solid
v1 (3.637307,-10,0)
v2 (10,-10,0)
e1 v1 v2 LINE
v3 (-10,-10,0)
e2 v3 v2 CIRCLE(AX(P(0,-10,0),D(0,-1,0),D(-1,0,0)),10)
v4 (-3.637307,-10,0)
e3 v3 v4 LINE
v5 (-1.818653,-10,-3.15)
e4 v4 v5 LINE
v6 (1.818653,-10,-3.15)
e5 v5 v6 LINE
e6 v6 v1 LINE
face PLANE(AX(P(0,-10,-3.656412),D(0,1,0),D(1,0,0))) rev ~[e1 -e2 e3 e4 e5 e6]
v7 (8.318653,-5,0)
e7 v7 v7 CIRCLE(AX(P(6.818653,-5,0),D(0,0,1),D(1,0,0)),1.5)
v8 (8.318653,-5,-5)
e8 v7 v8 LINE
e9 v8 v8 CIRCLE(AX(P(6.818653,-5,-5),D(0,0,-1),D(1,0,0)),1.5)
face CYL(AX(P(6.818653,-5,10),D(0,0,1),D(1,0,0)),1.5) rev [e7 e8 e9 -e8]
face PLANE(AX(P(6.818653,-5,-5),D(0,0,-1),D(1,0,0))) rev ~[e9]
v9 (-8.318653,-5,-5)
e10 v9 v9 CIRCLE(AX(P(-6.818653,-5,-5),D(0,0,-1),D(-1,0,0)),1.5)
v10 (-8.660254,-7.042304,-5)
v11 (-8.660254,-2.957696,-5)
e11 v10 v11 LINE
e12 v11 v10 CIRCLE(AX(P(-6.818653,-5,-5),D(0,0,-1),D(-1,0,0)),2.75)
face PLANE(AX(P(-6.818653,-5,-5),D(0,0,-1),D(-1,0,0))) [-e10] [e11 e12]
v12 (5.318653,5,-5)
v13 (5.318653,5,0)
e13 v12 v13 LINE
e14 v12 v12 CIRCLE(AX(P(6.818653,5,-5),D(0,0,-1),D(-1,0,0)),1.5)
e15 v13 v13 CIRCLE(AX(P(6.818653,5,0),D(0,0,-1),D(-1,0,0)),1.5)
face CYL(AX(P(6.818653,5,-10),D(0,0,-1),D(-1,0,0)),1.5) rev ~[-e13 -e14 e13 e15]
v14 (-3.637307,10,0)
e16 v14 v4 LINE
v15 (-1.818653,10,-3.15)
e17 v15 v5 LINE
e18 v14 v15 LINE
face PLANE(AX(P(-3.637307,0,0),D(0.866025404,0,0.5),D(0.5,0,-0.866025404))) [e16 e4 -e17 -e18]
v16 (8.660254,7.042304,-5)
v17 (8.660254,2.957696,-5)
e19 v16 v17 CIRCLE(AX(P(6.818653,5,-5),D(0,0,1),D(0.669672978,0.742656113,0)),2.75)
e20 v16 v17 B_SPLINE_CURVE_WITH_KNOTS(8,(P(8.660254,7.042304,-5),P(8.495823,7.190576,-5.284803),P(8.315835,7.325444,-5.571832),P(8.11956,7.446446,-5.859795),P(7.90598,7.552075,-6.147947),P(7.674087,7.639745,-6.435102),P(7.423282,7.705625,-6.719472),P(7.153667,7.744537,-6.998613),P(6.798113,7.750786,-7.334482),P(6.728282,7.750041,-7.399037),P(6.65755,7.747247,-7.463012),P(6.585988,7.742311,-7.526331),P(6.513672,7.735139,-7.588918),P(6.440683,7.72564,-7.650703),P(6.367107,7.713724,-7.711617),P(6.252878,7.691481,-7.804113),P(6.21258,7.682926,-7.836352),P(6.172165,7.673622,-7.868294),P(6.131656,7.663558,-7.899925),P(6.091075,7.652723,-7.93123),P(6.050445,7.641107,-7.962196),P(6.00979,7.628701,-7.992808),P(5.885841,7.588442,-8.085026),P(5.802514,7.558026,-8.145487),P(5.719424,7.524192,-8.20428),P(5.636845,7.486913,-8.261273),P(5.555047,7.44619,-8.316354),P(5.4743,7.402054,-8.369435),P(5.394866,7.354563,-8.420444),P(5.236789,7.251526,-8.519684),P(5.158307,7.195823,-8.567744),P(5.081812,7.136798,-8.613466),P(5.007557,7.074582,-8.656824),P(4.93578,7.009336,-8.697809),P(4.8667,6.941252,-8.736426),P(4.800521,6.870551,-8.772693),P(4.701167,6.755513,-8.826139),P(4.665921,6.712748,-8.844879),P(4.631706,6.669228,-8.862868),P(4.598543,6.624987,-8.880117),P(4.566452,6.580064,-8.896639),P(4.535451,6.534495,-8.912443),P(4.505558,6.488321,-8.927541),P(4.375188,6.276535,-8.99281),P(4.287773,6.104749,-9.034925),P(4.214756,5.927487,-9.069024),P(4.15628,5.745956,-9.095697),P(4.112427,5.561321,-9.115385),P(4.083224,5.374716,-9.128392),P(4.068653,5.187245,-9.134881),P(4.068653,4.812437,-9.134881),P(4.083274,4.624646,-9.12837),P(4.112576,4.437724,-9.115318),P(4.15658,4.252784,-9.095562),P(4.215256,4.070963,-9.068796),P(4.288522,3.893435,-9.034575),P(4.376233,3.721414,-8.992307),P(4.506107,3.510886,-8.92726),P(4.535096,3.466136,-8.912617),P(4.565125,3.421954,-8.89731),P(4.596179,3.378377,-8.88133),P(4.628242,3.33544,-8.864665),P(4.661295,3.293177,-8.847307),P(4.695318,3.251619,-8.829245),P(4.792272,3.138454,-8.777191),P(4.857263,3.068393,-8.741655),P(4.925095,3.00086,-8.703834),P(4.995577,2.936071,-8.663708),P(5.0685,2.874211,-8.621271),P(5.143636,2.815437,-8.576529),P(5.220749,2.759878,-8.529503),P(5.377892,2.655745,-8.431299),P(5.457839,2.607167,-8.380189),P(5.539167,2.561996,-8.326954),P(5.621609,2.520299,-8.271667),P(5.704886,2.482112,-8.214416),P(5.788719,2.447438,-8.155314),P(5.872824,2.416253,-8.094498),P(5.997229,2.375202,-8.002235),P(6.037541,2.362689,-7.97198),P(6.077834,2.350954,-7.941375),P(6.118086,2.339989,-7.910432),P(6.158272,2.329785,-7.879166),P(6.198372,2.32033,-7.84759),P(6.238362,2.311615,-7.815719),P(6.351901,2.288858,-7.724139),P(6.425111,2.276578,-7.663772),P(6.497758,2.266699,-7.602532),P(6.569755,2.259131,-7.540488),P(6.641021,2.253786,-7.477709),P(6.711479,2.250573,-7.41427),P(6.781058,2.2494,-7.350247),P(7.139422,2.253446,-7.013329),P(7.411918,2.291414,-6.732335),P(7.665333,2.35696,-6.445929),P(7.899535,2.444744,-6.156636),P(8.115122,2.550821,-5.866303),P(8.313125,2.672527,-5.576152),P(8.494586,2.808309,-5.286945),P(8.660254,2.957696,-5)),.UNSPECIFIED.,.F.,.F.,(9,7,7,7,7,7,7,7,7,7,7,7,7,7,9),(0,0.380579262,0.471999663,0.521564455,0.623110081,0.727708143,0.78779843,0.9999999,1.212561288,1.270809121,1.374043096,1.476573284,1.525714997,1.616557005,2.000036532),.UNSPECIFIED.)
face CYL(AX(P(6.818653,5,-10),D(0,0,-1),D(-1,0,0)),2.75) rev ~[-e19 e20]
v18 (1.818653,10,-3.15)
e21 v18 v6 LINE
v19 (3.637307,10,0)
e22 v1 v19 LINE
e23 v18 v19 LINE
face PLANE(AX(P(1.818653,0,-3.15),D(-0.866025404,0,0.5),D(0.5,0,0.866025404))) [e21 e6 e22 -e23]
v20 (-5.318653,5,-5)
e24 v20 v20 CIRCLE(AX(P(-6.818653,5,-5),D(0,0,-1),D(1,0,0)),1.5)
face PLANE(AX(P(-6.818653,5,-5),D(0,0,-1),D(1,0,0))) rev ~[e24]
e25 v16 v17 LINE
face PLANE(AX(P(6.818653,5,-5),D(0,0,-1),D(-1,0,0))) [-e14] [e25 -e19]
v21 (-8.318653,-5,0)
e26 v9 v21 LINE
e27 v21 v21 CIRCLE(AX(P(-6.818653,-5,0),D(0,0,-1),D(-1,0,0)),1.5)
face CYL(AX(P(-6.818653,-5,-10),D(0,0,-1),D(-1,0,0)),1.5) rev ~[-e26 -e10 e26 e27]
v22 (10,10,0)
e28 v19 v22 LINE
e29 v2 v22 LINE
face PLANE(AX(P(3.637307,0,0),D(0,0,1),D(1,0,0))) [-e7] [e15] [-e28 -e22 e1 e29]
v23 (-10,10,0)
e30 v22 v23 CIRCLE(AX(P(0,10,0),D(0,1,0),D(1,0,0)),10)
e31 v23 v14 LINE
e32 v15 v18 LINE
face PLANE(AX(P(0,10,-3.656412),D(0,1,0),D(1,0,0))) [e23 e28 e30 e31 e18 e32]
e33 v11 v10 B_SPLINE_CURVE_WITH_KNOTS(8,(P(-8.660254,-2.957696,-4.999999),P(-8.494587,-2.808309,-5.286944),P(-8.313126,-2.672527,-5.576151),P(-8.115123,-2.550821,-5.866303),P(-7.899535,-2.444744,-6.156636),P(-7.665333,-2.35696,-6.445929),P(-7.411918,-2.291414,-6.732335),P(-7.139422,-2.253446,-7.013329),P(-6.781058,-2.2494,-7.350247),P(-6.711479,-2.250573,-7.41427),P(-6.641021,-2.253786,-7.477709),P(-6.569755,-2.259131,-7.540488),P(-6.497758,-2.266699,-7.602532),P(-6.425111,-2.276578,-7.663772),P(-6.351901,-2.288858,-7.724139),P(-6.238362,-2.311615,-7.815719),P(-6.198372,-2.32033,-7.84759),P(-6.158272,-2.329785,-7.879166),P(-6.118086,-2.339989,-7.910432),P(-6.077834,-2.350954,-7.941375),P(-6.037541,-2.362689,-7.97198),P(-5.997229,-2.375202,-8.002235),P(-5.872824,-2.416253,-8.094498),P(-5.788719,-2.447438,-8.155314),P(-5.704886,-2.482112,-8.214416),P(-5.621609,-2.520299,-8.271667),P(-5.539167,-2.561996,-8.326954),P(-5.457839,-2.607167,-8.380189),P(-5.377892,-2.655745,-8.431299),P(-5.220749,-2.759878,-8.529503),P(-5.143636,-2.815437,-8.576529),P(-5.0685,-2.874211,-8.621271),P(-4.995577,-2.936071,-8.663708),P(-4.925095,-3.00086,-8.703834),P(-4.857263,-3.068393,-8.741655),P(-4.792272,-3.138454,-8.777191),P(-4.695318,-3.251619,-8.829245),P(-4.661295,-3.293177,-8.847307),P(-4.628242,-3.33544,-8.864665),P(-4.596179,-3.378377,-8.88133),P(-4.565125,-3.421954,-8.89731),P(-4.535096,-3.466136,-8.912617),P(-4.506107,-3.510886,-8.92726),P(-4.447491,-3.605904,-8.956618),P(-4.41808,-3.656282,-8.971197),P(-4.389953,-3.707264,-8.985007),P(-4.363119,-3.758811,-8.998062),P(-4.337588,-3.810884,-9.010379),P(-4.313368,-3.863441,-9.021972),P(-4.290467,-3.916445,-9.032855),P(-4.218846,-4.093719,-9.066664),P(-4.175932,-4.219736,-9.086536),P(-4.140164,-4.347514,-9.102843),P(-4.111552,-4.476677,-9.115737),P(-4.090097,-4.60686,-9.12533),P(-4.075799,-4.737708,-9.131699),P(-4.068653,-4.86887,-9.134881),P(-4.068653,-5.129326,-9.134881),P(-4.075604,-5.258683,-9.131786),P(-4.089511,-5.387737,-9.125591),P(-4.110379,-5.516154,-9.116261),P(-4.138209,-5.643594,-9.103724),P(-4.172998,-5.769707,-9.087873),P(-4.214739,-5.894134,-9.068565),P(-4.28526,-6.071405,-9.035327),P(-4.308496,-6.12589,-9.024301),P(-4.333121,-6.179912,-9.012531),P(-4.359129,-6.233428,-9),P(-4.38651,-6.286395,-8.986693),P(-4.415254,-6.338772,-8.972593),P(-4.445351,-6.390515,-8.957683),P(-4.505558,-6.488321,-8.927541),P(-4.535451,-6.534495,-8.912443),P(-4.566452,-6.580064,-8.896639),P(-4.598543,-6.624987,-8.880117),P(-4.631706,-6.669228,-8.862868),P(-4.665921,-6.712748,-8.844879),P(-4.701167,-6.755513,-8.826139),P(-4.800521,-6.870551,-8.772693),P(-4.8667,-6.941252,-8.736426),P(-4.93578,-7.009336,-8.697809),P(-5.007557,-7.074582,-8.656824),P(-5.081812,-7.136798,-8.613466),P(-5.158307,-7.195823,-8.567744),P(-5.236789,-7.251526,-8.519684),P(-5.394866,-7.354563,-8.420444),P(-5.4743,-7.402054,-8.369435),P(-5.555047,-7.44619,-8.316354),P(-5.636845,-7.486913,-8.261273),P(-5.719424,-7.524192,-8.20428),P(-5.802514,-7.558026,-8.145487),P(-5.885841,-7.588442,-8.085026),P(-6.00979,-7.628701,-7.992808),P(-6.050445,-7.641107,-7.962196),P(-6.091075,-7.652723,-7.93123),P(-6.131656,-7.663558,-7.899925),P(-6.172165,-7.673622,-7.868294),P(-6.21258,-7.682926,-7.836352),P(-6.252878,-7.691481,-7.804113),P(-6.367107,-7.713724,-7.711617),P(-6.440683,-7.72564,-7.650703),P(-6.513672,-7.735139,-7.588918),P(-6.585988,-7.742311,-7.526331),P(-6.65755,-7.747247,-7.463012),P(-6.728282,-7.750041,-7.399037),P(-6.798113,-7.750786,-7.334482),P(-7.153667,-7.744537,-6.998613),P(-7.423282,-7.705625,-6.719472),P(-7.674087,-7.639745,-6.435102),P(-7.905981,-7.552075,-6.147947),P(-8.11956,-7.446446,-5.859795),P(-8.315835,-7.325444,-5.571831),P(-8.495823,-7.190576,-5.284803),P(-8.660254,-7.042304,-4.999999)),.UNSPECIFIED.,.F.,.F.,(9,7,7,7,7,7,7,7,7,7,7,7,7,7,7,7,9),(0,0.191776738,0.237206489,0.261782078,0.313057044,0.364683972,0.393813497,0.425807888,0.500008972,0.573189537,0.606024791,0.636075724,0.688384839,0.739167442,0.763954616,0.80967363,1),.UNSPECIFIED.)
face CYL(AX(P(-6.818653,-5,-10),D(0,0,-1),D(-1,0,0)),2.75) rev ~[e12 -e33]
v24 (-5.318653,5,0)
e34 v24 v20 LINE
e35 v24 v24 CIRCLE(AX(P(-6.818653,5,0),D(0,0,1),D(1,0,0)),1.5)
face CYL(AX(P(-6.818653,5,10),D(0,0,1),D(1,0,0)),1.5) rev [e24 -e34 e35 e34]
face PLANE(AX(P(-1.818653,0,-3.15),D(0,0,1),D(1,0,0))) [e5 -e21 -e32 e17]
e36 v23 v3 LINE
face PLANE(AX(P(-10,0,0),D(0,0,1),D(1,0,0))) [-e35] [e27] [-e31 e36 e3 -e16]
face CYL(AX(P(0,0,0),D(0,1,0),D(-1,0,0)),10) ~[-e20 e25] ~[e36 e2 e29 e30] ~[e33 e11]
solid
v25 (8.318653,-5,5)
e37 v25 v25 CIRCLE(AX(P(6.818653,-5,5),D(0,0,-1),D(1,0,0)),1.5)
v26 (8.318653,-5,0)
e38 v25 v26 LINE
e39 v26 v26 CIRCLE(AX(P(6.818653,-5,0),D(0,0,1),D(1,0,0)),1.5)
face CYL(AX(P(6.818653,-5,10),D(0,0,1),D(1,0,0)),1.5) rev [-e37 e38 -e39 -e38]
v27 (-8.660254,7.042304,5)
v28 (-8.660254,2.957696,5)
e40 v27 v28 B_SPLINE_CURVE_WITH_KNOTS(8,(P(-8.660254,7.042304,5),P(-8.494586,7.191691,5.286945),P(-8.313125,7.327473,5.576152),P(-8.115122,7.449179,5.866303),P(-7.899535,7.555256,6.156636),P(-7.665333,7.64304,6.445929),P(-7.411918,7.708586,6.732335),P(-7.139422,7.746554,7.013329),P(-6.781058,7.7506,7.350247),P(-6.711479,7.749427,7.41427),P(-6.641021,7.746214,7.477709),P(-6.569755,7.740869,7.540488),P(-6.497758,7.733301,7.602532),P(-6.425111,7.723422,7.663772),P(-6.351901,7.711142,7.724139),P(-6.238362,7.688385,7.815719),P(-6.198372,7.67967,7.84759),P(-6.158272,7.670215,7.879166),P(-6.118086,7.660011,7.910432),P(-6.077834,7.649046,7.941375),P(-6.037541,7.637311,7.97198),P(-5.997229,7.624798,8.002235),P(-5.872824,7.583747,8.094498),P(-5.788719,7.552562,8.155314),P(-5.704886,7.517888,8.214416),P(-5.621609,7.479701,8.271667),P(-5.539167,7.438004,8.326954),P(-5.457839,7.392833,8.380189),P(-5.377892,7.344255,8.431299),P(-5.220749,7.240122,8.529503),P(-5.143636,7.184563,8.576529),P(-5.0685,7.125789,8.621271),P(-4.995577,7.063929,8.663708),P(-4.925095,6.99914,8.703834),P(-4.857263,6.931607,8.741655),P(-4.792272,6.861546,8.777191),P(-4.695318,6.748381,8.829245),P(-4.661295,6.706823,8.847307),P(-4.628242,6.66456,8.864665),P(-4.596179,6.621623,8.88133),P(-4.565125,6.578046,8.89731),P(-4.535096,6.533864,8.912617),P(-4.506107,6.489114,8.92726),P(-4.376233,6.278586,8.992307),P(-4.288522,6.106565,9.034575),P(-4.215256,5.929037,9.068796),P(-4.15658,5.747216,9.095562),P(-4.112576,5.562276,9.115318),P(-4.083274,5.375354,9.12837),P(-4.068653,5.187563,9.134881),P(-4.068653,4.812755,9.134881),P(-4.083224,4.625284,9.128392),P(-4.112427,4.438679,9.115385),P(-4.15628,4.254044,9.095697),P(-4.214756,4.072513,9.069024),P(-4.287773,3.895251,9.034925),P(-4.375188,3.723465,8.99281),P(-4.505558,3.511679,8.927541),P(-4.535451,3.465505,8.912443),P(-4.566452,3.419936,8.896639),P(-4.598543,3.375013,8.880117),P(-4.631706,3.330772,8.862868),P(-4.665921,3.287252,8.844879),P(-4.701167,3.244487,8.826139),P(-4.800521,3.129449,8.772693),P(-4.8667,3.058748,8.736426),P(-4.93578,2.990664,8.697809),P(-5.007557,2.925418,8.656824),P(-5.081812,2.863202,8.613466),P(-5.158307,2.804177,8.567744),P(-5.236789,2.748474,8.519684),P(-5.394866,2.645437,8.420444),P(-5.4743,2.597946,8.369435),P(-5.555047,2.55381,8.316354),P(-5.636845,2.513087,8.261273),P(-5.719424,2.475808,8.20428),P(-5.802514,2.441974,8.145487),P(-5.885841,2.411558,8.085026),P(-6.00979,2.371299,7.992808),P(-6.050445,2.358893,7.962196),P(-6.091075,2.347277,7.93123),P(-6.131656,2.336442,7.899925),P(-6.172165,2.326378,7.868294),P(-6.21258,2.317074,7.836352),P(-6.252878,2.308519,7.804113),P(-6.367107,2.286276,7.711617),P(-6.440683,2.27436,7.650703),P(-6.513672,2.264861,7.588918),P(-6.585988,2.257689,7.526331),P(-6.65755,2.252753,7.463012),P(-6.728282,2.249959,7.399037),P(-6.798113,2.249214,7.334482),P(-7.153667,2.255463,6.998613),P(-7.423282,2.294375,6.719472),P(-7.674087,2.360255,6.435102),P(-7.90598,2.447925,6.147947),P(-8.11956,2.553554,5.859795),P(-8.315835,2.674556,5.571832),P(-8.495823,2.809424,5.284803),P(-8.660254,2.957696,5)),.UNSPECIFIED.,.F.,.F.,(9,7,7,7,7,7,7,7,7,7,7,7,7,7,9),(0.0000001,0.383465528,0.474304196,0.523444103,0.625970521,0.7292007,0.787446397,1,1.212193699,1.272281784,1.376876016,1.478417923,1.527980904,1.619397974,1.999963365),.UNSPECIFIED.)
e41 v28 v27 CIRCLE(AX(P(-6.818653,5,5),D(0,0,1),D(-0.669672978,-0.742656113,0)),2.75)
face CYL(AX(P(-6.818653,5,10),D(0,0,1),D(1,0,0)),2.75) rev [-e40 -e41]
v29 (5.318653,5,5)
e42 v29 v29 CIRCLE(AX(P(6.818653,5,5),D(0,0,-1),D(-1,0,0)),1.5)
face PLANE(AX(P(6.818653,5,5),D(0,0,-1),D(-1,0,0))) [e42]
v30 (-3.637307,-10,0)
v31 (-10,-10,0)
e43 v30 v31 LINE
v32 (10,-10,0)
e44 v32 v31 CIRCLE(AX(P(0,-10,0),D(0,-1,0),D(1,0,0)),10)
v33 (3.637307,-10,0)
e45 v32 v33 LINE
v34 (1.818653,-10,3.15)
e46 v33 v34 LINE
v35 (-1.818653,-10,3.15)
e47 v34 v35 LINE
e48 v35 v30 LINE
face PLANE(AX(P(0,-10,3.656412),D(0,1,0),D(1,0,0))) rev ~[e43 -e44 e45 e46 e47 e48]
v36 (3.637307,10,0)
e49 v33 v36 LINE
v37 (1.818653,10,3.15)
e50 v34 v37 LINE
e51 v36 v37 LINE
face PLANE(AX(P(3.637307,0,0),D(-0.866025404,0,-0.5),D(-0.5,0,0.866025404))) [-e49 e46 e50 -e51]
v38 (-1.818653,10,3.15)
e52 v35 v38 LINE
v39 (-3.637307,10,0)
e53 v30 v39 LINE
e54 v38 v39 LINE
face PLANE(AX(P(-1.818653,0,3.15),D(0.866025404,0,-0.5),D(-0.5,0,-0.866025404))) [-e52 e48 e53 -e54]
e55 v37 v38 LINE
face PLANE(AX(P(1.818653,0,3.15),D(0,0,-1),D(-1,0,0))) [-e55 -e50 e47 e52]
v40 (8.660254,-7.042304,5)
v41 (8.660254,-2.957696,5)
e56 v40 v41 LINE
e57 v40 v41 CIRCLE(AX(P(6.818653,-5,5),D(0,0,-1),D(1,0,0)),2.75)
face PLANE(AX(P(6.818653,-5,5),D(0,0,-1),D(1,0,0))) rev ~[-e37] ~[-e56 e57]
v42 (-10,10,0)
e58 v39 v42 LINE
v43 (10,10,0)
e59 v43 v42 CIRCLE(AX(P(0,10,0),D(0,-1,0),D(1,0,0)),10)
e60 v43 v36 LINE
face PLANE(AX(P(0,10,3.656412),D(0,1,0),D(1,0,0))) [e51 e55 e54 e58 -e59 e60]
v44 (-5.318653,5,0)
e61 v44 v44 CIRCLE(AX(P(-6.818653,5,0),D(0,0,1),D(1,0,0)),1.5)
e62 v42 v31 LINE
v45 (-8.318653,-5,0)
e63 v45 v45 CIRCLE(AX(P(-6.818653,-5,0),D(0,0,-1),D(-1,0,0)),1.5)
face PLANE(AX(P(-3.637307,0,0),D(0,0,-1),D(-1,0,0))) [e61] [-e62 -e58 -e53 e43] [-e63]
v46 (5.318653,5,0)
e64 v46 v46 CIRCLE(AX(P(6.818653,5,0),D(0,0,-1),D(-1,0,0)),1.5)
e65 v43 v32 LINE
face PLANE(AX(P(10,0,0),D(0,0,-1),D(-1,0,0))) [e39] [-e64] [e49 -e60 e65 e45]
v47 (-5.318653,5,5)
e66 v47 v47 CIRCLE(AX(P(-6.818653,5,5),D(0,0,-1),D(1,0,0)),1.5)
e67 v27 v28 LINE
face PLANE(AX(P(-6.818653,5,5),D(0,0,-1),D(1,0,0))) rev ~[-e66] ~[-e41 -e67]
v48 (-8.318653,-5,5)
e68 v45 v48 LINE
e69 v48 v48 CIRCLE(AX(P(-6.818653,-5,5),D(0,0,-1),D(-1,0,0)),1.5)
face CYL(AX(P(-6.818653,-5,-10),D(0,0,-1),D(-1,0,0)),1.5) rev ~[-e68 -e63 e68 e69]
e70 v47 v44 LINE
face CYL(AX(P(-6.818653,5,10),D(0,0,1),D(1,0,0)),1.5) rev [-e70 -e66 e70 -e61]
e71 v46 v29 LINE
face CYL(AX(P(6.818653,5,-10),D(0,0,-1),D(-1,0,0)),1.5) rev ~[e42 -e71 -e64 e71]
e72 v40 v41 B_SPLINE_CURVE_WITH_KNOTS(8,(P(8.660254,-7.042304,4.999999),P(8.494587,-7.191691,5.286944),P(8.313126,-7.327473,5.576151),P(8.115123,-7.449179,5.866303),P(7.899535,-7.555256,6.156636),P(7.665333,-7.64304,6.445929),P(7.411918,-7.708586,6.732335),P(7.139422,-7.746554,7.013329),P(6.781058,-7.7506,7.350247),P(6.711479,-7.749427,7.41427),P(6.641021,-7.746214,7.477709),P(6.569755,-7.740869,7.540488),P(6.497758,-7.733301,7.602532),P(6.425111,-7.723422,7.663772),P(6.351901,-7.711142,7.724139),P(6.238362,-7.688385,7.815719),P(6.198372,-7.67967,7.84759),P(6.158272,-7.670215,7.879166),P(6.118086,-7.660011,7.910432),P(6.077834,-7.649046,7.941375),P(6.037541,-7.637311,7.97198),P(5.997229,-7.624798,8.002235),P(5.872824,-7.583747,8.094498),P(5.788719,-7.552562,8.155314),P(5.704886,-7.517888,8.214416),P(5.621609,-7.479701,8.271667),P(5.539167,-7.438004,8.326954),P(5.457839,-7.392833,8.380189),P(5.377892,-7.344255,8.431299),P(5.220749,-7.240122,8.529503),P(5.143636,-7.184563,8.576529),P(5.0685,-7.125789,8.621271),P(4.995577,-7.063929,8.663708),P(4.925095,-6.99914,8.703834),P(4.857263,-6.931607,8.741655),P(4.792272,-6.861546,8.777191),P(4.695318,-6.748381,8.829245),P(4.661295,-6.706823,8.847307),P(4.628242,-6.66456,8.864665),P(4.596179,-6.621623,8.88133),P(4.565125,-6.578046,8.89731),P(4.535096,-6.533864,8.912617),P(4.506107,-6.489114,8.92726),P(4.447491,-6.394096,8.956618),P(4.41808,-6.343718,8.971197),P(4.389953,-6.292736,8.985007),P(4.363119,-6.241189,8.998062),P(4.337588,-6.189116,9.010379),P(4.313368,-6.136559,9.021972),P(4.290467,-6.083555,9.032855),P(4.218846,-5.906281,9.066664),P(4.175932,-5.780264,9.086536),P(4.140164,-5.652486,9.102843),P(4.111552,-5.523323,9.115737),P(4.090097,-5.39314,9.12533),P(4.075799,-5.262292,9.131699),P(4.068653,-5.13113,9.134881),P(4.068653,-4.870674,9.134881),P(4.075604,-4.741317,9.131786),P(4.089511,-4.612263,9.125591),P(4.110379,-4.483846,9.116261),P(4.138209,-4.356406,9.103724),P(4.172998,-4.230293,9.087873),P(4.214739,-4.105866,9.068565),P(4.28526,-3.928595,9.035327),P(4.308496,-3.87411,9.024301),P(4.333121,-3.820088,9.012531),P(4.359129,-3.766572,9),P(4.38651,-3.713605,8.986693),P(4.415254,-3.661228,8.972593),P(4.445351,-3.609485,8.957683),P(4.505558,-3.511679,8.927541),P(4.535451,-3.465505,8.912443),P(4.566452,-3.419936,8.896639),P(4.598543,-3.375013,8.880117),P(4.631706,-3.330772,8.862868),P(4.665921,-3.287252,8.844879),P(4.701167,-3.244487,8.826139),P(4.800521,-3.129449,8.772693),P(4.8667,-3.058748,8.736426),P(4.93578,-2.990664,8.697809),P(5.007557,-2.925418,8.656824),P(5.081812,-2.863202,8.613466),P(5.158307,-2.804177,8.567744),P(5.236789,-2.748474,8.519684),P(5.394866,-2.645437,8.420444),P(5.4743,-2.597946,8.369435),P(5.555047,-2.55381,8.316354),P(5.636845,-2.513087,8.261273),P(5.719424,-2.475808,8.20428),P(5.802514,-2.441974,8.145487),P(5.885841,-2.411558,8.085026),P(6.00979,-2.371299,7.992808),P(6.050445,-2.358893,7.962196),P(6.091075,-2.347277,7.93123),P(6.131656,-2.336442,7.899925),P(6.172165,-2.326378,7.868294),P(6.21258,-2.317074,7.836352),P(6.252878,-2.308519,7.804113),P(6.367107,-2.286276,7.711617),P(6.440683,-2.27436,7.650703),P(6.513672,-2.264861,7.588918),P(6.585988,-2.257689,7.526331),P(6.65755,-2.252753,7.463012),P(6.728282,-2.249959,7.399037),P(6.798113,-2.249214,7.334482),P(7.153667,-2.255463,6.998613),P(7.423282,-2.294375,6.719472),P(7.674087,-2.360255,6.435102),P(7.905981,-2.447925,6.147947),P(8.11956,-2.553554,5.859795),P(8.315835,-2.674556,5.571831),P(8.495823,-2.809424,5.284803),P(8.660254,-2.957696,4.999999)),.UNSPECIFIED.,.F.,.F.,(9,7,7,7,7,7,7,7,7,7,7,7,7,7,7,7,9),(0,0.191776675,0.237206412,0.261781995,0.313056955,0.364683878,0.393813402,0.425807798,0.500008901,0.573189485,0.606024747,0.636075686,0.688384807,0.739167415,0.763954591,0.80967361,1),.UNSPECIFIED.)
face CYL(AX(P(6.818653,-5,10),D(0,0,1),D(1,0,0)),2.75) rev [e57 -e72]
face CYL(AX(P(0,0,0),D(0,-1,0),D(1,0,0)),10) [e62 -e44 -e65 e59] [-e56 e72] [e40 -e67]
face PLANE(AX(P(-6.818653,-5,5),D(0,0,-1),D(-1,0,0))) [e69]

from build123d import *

# Parameters (mm, degrees)
BOSS_EXTRUDE1_DEPTH = 10
BOSS_EXTRUDE2_DEPTH = 10
SKETCH2_R           = 1.4999999999999998
CUT_EXTRUDE4_DEPTH  = 15
SKETCH2_5_R         = 2.75
SKETCH2_5_R_2       = 1.4999999999999998
CUT_EXTRUDE10_DEPTH = 5
CUT_EXTRUDE13_START = -20
SKETCH2_9_R         = 1.4999999999999998
CUT_EXTRUDE13_DEPTH = 15
CUT_EXTRUDE11_START = -20
SKETCH2_6_R         = 2.75
SKETCH2_6_R_2       = 1.4999999999999998
CUT_EXTRUDE11_DEPTH = 5
SKETCH1_5_W         = 20
SKETCH1_5_H         = 20
CUT_EXTRUDE9_DEPTH  = 10


with BuildPart() as part:
    # Sketch1 → Boss-Extrude1 (new, symmetric)
    with BuildSketch(Plane(origin=(0, 0, 0), x_dir=(1, 0, 0), z_dir=(0, 1, 0))):
        with BuildLine():
            Line((1.8186533479473221, 3.150000000000001), (3.6373066958946447, 0))
            Line((3.6373066958946447, 0), (10, 0))
            ThreePointArc((10, 0), (7.071067802431099, 7.0710678212998515), (-2.668444515e-08, 10))
            ThreePointArc((-2.668444515e-08, 10), (-7.071067821299852, 7.071067802431098), (-10, 1.22e-15))
            Line((-10, 0), (-3.637306695894643, 8.7e-16))
            Line((-3.637306695894643, 8.9e-16), (-1.8186533479473208, 3.1500000000000012))
            Line((-1.8186533479473206, 3.1500000000000012), (1.8186533479473224, 3.150000000000001))
        make_face()
        with BuildLine():
            ThreePointArc((-2.668444515e-08, 10), (7.071067802431099, 7.0710678212998515), (10, 0))
            Line((10, 0), (10, 10))
            Line((10, 10), (-2.668444488e-08, 10))
        make_face()
        with BuildLine():
            ThreePointArc((-10, 1.22e-15), (-7.071067821299852, 7.071067802431098), (-2.668444515e-08, 10))
            Line((-2.668444488e-08, 10), (-10, 10))
            Line((-10, 10), (-10, 0))
        make_face()
    extrude(amount=BOSS_EXTRUDE1_DEPTH, both=True)


with BuildPart() as body_2:
    # Sketch1<3> → Boss-Extrude2 (new, symmetric)
    with BuildSketch(Plane(origin=(0, 0, 0), x_dir=(1, 0, 0), z_dir=(0, 1, 0))):
        with BuildLine():
            Line((10, 0), (3.6373066958946447, 0))
            Line((3.6373066958946447, 0), (1.8186533479473237, -3.15))
            Line((1.8186533479473235, -3.15), (-1.8186533479473204, -3.15))
            Line((-1.8186533479473204, -3.15), (-3.637306695894643, 8.7e-16))
            Line((-3.637306695894643, 8.7e-16), (-10, 0))
            ThreePointArc((-10, 1.22e-15), (-7.071067811865477, -7.071067811865475), (-1.84e-15, -10))
            ThreePointArc((-1.84e-15, -10), (7.071067811865474, -7.071067811865477), (10, -2.45e-15))
        make_face()
        with BuildLine():
            Line((10, -10), (10, 0))
            ThreePointArc((10, -2.45e-15), (7.071067811865474, -7.071067811865477), (-1.84e-15, -10))
            Line((-1.78e-15, -10), (10, -10))
        make_face()
        with BuildLine():
            Line((-10, -10), (-1.78e-15, -10))
            ThreePointArc((-1.84e-15, -10), (-7.071067811865477, -7.071067811865475), (-10, 1.22e-15))
            Line((-10, 0), (-10, -10))
        make_face()
    extrude(amount=BOSS_EXTRUDE2_DEPTH, both=True)


with BuildPart() as cut_extrude4_tool:
    # Sketch2 → Cut-Extrude4 (new body)
    with BuildSketch(Plane(origin=(0, 0, -10), x_dir=(-1, 0, 0), z_dir=(0, 0, -1))):
        with Locations((-6.818653347947323, 5)):
            Circle(SKETCH2_R)
        with Locations((6.818653347947323, -5)):
            Circle(SKETCH2_R)
    extrude(amount=-CUT_EXTRUDE4_DEPTH)


with BuildPart() as part_1:
    add(part.part)

    # Cut-Extrude4: cut by cut_extrude4_tool
    add(cut_extrude4_tool.part, mode=Mode.SUBTRACT)

    # Sketch2<5> → Cut-Extrude10 (cut)
    # profile 1 of 2: a face of its own
    with BuildSketch(Plane(origin=(0, 0, -10), x_dir=(-1, 0, 0), z_dir=(0, 0, -1))):
        with Locations((-6.818653347947323, 5)):
            Circle(SKETCH2_5_R)
        with Locations((-6.818653347947323, 5)):
            Circle(SKETCH2_5_R_2, mode=Mode.SUBTRACT)
    # profile 2 of 2: a face of its own
    with BuildSketch(Plane(origin=(0, 0, -10), x_dir=(-1, 0, 0), z_dir=(0, 0, -1))):
        with Locations((6.818653347947323, -5)):
            Circle(SKETCH2_5_R)
        with Locations((6.818653347947323, -5)):
            Circle(SKETCH2_5_R_2, mode=Mode.SUBTRACT)
    extrude(amount=-CUT_EXTRUDE10_DEPTH, mode=Mode.SUBTRACT)


with BuildPart() as body_2_1:
    add(body_2.part)

    # Cut-Extrude4: cut by cut_extrude4_tool
    add(cut_extrude4_tool.part, mode=Mode.SUBTRACT)


with BuildPart() as cut_extrude13_tool:
    # Sketch2<9> → Cut-Extrude13 (new body)
    with BuildSketch(Plane(origin=(0, 0, -10), x_dir=(-1, 0, 0), z_dir=(0, 0, -1)).offset(CUT_EXTRUDE13_START)):
        with Locations(Location((6.818653347947323, 5, 0), (0, 0, 180))):
            Circle(SKETCH2_9_R)
        with Locations(Location((-6.818653347947323, -5, 0), (0, 0, 180))):
            Circle(SKETCH2_9_R)
    extrude(amount=CUT_EXTRUDE13_DEPTH)


with BuildPart() as part_2:
    add(part_1.part)

    # Cut-Extrude13: cut by cut_extrude13_tool
    add(cut_extrude13_tool.part, mode=Mode.SUBTRACT)


with BuildPart() as body_2_2:
    add(body_2_1.part)

    # Cut-Extrude13: cut by cut_extrude13_tool
    add(cut_extrude13_tool.part, mode=Mode.SUBTRACT)

    # Sketch2<6> → Cut-Extrude11 (cut)
    # profile 1 of 2: a face of its own
    with BuildSketch(Plane(origin=(0, 0, -10), x_dir=(-1, 0, 0), z_dir=(0, 0, -1)).offset(CUT_EXTRUDE11_START)):
        with Locations(Location((-6.818653347947323, -5, 0), (0, 0, 180))):
            Circle(SKETCH2_6_R)
        with Locations(Location((-6.818653347947323, -5, 0), (0, 0, 180))):
            Circle(SKETCH2_6_R_2, mode=Mode.SUBTRACT)
    # profile 2 of 2: a face of its own
    with BuildSketch(Plane(origin=(0, 0, -10), x_dir=(-1, 0, 0), z_dir=(0, 0, -1)).offset(CUT_EXTRUDE11_START)):
        with Locations(Location((6.818653347947323, 5, 0), (0, 0, 180))):
            Circle(SKETCH2_6_R)
        with Locations(Location((6.818653347947323, 5, 0), (0, 0, 180))):
            Circle(SKETCH2_6_R_2, mode=Mode.SUBTRACT)
    extrude(amount=CUT_EXTRUDE11_DEPTH, mode=Mode.SUBTRACT)


with BuildPart() as cut_extrude9_tool:
    # Sketch1<5> → Cut-Extrude9 (new, symmetric)
    # profile 1 of 5: a face of its own
    with BuildSketch(Plane(origin=(0, 0, 0), x_dir=(1, 0, 0), z_dir=(0, 1, 0))):
        Polygon((20, 20), (20, -19.999999999999996), (-19.999999999999996, -20), (-20, 20), align=None)
        Rectangle(SKETCH1_5_W, SKETCH1_5_H, mode=Mode.SUBTRACT)
    # profile 2 of 5: a face of its own
    with BuildSketch(Plane(origin=(0, 0, 0), x_dir=(1, 0, 0), z_dir=(0, 1, 0))):
        with BuildLine():
            ThreePointArc((-10, 1.22e-15), (-7.071067821299852, 7.071067802431098), (-2.668444515e-08, 10))
            Line((-2.668444488e-08, 10), (-10, 10))
            Line((-10, 10), (-10, 0))
        make_face()
    # profile 3 of 5: a face of its own
    with BuildSketch(Plane(origin=(0, 0, 0), x_dir=(1, 0, 0), z_dir=(0, 1, 0))):
        with BuildLine():
            ThreePointArc((-2.668444515e-08, 10), (7.071067802431099, 7.0710678212998515), (10, 0))
            Line((10, 0), (10, 10))
            Line((10, 10), (-2.668444488e-08, 10))
        make_face()
    # profile 4 of 5: a face of its own
    with BuildSketch(Plane(origin=(0, 0, 0), x_dir=(1, 0, 0), z_dir=(0, 1, 0))):
        with BuildLine():
            Line((10, -10), (10, 0))
            ThreePointArc((10, -2.45e-15), (7.071067811865474, -7.071067811865477), (-1.84e-15, -10))
            Line((-1.78e-15, -10), (10, -10))
        make_face()
    # profile 5 of 5: a face of its own
    with BuildSketch(Plane(origin=(0, 0, 0), x_dir=(1, 0, 0), z_dir=(0, 1, 0))):
        with BuildLine():
            Line((-10, -10), (-1.78e-15, -10))
            ThreePointArc((-1.84e-15, -10), (-7.071067811865477, -7.071067811865475), (-10, 1.22e-15))
            Line((-10, 0), (-10, -10))
        make_face()
    extrude(amount=CUT_EXTRUDE9_DEPTH, both=True)


with BuildPart() as part_3:
    add(part_2.part)

    # Cut-Extrude9: cut by cut_extrude9_tool
    add(cut_extrude9_tool.part, mode=Mode.SUBTRACT)


with BuildPart() as body_2_3:
    add(body_2_2.part)

    # Cut-Extrude9: cut by cut_extrude9_tool
    add(cut_extrude9_tool.part, mode=Mode.SUBTRACT)


solid = Compound([part_3.part, body_2_3.part])
